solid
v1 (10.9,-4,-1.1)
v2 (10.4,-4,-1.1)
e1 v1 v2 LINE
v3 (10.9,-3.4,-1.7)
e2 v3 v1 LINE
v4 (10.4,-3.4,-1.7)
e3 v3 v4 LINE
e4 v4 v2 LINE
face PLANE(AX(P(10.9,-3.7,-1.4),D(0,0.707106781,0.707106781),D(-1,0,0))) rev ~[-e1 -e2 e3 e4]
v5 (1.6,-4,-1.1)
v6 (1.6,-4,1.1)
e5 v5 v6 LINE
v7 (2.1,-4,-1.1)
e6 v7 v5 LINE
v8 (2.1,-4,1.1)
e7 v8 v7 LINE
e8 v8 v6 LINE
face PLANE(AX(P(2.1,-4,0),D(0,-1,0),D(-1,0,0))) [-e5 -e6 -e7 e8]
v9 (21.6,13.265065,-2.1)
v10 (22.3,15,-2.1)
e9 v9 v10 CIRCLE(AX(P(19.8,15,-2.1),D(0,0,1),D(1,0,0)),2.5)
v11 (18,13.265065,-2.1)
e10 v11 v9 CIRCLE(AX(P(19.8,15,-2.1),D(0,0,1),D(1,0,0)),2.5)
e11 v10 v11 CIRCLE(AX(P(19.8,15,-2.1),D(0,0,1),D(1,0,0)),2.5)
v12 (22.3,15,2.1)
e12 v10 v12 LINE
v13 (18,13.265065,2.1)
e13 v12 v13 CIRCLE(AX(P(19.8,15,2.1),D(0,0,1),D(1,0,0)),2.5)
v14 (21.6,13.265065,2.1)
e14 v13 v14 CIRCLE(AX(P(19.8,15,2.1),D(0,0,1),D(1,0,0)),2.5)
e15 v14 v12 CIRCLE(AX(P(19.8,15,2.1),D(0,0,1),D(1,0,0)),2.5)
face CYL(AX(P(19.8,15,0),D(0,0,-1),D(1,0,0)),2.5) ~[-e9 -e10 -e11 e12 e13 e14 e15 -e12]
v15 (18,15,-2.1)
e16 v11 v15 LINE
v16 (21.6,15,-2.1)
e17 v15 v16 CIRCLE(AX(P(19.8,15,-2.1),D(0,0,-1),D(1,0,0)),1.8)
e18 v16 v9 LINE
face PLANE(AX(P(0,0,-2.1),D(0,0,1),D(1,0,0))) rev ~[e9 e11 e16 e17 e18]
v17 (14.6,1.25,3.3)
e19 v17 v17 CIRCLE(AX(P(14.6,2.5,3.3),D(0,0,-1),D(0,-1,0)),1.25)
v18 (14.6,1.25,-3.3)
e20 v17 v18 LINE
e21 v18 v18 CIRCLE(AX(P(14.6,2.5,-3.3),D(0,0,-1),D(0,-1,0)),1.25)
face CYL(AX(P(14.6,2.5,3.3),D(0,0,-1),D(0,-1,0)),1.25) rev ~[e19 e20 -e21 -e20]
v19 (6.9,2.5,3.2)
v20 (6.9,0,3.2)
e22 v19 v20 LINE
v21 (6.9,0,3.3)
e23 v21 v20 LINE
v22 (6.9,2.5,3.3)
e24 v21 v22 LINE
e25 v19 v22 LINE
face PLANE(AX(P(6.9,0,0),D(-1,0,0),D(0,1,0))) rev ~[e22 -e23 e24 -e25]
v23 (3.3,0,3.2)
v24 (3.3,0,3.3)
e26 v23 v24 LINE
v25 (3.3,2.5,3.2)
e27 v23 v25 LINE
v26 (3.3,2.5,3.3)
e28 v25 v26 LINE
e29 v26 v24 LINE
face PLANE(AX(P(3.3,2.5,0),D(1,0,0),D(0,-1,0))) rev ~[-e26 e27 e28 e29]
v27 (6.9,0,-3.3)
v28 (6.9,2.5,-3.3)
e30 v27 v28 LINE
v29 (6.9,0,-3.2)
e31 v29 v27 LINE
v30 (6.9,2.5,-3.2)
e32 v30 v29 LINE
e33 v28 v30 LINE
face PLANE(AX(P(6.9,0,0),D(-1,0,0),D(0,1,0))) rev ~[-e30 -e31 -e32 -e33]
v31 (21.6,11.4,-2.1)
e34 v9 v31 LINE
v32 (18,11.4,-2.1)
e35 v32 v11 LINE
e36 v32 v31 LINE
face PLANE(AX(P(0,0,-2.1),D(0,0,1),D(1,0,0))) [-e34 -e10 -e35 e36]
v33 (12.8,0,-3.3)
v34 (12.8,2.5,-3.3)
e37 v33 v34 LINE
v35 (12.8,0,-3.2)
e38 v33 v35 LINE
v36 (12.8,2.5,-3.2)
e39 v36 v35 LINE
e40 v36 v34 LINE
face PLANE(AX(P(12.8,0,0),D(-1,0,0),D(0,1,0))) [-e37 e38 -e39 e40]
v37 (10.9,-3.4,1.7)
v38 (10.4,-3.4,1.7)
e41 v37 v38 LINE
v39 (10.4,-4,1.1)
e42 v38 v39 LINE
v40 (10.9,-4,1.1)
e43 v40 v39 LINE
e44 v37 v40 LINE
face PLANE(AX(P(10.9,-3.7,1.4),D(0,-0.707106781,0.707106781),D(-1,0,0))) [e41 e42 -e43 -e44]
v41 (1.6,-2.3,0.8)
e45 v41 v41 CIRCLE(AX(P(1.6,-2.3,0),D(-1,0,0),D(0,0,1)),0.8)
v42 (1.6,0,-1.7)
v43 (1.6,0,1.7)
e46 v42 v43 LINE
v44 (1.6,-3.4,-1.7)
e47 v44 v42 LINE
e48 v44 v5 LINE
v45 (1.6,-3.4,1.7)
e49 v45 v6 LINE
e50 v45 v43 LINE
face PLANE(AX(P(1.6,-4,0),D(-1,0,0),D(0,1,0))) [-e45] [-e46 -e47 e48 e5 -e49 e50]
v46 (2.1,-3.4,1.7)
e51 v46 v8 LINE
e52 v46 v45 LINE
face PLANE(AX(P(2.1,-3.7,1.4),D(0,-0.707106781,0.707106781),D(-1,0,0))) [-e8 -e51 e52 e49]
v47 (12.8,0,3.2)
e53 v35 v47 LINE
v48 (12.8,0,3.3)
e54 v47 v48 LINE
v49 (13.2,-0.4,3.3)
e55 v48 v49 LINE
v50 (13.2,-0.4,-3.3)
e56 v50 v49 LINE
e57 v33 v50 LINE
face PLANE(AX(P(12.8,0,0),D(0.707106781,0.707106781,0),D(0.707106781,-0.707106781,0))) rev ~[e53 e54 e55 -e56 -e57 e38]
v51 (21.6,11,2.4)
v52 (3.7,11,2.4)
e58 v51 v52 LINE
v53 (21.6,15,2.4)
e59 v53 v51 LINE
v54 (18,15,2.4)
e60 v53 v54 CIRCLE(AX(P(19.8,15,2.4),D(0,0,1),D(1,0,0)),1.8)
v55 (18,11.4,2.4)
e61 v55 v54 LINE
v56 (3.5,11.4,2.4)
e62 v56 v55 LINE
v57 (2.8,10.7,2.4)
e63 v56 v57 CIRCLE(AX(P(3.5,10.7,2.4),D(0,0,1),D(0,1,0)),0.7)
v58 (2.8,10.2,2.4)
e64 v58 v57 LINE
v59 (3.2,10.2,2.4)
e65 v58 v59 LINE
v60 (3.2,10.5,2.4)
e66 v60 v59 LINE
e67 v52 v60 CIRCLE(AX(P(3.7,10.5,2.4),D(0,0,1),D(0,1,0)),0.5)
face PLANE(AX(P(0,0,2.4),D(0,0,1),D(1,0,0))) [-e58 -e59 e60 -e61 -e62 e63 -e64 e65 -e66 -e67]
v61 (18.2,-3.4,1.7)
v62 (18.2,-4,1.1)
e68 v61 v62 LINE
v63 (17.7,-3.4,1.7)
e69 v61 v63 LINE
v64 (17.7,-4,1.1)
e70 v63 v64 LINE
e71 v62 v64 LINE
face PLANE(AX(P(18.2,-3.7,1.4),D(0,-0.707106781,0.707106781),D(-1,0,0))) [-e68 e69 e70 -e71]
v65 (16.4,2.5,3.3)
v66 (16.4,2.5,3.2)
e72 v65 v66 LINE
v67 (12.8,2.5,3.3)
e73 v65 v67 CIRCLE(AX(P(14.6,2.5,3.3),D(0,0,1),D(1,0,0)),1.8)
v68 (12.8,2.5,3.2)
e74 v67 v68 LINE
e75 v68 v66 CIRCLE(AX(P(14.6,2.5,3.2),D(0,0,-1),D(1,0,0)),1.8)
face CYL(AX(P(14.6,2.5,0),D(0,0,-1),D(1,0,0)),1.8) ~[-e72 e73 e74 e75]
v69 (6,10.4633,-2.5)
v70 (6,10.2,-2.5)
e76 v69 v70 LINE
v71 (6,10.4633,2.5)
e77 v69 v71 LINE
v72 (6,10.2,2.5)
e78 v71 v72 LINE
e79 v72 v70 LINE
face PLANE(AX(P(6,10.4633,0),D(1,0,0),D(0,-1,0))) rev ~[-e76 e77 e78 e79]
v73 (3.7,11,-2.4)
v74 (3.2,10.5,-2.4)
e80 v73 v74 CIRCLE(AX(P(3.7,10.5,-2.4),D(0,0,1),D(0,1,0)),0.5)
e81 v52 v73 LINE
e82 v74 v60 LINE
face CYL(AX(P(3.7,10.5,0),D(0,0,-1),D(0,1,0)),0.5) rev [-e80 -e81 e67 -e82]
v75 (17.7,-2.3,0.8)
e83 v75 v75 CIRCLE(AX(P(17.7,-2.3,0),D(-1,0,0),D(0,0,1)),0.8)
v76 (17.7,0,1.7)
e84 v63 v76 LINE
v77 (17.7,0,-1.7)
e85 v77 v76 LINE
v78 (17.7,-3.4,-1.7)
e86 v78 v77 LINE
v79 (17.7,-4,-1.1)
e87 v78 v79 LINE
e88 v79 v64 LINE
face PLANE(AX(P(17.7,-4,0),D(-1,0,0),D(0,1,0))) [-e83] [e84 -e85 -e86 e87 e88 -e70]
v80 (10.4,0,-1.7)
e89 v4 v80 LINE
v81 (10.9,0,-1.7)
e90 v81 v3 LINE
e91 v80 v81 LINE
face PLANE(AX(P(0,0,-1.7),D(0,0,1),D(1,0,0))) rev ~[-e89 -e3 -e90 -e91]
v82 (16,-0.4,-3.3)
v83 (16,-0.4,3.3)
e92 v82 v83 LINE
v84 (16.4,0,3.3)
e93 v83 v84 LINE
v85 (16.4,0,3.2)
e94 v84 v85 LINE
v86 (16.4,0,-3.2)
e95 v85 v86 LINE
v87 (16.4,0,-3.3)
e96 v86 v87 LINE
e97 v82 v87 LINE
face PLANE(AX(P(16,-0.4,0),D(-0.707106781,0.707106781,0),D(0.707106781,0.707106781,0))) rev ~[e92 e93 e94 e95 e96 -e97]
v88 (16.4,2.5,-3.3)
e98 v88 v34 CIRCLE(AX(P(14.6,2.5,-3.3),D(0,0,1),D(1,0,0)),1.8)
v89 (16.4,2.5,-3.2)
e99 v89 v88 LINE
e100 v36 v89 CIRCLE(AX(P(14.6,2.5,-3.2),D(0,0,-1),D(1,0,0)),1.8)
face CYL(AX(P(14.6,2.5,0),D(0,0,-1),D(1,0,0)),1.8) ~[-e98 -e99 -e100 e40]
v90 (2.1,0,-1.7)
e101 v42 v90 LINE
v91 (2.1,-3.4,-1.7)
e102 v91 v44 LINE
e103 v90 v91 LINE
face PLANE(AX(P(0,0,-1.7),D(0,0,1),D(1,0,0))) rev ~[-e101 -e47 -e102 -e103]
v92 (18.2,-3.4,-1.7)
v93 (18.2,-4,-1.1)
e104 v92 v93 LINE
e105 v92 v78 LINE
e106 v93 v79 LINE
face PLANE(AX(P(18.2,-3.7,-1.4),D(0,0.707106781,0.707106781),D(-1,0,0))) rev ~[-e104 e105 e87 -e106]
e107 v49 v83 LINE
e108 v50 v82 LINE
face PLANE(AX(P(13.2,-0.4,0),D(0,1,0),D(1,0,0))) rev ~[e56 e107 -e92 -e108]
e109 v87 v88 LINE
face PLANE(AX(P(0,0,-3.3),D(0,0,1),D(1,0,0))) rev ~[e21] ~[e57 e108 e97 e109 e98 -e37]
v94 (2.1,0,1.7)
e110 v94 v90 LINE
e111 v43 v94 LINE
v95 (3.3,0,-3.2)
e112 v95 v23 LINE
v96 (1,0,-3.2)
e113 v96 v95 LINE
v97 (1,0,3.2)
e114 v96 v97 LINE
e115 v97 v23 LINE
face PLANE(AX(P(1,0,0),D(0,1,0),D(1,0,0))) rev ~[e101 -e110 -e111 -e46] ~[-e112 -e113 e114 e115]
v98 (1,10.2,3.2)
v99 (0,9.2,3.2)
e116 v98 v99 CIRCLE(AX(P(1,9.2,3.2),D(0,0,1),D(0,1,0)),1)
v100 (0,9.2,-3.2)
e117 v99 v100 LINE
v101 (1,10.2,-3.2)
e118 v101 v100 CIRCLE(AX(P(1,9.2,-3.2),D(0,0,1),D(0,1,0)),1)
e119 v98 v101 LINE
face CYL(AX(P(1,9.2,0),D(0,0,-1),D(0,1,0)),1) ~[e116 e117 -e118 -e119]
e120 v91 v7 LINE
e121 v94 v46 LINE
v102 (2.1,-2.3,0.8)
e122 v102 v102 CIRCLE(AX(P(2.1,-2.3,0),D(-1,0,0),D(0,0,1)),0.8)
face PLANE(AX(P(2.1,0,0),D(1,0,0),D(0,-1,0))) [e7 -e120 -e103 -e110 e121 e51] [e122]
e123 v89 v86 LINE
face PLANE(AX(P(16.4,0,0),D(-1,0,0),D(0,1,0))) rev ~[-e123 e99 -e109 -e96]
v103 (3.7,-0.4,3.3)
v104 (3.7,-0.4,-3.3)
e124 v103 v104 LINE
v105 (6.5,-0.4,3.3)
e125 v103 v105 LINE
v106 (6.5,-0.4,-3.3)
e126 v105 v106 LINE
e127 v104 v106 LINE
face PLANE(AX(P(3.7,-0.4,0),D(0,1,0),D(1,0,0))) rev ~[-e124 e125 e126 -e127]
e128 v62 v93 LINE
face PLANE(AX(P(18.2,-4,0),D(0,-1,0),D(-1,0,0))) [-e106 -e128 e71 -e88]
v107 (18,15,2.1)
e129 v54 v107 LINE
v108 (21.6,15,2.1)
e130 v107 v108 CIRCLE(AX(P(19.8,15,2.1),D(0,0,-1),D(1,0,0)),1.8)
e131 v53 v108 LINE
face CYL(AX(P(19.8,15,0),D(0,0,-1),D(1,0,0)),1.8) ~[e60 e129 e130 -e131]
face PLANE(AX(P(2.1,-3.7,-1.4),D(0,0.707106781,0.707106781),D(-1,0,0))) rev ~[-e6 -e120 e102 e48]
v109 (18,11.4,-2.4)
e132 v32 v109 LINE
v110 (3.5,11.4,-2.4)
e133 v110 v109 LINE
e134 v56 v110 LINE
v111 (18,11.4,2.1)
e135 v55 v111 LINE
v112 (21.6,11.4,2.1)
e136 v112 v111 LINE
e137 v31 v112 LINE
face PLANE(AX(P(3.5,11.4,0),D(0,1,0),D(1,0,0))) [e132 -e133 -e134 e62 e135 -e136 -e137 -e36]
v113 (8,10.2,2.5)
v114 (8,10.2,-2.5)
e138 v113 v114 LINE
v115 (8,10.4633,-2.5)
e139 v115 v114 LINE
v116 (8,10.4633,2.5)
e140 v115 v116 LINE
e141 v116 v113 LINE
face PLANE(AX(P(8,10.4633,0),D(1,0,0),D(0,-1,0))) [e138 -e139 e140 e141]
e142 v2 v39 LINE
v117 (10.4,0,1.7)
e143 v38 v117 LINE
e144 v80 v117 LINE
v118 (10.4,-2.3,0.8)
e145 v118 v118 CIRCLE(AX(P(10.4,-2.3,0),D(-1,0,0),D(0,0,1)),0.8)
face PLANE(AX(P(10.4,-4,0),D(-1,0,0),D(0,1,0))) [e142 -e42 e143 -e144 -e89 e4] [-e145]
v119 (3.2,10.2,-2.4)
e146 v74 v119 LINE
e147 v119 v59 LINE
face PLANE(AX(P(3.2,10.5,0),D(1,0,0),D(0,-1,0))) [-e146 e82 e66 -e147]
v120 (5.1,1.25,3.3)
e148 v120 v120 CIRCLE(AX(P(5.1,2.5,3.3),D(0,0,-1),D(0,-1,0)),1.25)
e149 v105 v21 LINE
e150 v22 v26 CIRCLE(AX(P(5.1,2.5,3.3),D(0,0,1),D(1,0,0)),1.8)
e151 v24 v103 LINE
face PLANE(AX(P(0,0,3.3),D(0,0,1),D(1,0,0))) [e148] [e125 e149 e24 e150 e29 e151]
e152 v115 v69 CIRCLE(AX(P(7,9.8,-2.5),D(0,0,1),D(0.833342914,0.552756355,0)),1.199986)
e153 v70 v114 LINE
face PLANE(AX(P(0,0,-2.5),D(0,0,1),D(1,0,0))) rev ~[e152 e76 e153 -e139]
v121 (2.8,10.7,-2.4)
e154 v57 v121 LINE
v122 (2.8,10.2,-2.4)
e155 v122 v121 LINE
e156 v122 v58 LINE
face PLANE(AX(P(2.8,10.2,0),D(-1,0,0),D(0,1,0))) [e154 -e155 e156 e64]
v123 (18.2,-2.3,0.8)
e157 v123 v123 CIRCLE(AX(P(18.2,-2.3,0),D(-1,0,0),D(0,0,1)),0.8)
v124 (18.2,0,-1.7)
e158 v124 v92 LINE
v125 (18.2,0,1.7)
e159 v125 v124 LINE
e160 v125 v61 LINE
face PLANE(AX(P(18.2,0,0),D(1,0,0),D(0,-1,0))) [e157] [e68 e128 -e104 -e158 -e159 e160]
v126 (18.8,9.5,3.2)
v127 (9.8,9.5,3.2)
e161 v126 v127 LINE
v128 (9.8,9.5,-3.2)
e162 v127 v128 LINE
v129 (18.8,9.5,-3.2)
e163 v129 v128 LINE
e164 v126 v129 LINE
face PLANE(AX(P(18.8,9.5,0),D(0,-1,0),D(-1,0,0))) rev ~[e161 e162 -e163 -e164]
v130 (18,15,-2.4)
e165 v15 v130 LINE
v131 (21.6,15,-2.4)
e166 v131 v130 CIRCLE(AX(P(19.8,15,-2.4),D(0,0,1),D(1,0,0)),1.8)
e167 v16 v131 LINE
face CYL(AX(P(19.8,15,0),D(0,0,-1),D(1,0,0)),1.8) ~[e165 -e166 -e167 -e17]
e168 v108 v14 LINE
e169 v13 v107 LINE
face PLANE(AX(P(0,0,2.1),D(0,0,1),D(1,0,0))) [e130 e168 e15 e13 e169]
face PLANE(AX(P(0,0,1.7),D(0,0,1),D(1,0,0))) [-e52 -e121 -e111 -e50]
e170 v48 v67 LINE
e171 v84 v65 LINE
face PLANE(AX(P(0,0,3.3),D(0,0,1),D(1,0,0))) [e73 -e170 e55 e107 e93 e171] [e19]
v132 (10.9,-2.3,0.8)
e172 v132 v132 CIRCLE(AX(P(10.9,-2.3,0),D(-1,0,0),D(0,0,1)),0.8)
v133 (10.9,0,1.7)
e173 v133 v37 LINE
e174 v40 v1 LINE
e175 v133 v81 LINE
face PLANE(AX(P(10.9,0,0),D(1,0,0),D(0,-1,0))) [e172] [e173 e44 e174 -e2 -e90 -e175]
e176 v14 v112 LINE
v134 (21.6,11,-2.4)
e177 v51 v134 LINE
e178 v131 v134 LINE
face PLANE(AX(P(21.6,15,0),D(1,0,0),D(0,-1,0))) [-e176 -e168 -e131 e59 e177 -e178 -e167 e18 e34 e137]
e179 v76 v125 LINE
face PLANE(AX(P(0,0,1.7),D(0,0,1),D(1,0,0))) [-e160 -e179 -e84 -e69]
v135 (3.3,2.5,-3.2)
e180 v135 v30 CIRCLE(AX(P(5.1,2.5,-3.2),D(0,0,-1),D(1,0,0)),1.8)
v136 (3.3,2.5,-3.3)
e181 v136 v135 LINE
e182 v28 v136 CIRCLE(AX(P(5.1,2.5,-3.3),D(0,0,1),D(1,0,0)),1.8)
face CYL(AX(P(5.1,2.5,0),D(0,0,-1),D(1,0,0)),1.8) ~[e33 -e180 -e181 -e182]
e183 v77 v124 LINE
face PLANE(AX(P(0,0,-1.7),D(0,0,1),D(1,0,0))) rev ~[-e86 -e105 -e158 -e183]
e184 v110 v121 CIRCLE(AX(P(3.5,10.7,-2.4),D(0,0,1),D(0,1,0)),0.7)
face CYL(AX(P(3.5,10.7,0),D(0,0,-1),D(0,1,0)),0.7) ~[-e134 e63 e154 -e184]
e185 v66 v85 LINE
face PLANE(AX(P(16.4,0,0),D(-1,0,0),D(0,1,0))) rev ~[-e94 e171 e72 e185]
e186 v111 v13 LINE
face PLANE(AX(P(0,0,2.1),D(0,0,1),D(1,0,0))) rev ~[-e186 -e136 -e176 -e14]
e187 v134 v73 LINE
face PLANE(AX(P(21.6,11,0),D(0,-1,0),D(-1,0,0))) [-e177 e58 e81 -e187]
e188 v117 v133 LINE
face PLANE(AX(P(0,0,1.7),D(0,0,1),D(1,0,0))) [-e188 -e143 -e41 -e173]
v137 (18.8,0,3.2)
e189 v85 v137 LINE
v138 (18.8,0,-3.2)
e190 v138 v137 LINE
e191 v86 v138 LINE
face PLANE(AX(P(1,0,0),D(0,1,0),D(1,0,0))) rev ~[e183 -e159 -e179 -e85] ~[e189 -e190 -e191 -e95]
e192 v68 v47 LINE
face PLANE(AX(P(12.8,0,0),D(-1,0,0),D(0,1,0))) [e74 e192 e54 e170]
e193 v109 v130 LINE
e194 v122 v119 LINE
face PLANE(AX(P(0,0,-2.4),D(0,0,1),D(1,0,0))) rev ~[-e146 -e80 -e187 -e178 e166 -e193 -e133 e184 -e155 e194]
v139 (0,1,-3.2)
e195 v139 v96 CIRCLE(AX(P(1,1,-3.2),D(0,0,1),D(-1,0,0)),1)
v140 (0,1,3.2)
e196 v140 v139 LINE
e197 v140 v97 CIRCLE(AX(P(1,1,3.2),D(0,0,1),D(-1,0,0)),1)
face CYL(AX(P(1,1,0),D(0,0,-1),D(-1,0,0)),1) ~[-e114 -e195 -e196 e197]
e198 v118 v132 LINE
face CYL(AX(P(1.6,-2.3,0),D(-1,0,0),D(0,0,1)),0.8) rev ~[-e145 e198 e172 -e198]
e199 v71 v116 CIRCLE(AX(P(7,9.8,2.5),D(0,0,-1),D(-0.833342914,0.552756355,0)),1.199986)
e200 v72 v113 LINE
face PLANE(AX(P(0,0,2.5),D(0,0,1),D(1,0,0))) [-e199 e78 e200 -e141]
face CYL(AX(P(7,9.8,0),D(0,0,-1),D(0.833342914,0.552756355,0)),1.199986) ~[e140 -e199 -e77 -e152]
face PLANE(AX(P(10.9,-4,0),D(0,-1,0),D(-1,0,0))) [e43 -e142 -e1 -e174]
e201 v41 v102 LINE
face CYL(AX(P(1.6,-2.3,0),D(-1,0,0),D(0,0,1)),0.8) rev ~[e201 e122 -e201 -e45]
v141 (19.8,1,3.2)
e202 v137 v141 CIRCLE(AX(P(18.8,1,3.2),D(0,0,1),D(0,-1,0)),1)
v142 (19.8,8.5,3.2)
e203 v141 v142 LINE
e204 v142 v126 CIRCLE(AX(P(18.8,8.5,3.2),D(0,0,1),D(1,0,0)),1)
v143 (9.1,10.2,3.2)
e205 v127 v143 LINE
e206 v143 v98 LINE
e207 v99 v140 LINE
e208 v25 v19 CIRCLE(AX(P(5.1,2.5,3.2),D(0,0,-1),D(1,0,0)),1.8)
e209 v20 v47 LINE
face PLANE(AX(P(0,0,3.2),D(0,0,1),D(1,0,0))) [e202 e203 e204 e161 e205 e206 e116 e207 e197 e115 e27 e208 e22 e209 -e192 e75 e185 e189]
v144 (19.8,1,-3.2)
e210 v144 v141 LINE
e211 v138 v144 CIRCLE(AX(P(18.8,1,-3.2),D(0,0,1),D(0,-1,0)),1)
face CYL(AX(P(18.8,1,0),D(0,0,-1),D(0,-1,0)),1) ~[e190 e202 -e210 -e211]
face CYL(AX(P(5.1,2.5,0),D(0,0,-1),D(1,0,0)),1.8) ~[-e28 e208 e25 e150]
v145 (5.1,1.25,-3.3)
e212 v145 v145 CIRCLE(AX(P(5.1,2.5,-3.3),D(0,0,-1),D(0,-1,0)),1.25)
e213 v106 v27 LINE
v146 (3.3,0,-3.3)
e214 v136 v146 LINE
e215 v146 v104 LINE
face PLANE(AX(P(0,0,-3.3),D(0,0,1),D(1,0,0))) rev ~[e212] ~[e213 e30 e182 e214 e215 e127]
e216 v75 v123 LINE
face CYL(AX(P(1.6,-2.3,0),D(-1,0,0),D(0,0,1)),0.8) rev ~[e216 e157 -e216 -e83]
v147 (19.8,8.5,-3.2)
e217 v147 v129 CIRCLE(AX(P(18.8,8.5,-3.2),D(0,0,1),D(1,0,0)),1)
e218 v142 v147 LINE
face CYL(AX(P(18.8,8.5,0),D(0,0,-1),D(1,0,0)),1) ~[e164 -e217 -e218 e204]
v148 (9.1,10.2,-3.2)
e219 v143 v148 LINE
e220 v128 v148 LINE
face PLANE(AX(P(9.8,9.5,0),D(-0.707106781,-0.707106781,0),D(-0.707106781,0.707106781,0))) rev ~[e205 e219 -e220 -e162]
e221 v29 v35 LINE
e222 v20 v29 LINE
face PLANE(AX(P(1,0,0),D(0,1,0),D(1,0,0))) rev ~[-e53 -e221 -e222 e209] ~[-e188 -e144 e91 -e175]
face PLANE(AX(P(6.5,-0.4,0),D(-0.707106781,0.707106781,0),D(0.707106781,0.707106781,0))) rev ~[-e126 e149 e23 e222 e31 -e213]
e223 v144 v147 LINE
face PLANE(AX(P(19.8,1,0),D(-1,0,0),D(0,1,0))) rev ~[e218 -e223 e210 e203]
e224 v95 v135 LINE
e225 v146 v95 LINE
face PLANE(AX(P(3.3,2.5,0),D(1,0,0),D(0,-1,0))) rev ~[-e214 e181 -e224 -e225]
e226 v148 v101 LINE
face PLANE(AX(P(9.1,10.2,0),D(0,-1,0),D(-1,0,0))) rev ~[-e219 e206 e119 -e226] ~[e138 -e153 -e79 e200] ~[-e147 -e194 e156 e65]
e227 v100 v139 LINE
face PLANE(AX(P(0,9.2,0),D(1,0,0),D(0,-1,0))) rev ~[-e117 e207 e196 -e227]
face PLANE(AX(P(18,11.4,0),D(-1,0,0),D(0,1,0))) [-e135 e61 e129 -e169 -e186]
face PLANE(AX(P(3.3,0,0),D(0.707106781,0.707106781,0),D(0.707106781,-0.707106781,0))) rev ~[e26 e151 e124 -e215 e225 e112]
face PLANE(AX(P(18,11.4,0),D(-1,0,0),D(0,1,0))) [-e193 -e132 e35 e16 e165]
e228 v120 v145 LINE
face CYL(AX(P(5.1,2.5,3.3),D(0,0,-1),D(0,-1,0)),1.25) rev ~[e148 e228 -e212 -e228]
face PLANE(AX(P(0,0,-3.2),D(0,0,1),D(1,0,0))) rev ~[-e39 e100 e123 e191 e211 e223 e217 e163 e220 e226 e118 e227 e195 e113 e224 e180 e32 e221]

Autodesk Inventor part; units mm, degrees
ref_plane "YZ Plane" through (0, 0, 0) normal (1, 0, 0) x (0, 1, 0)
ref_plane "XZ Plane" through (0, 0, 0) normal (0, 1, 0) x (-1, 0, 0)
ref_plane "XY Plane" through (0, 0, 0) normal (0, 0, 1) x (1, 0, 0)
sketch "Эскиз2" plane through (0, 0, 0) normal (0, 0, 1) x (1, 0, 0)
  line L0 (1, 0) -> (18.8, 0)
  line L1 (19.8, 1) -> (19.8, 8.5)
  line L2 (18.8, 9.5) -> (9.8, 9.5)
  line L3 (9.8, 9.5) -> (9.1, 10.2)
  line L4 (9.1, 10.2) -> (1, 10.2)
  line L5 (0, 9.2) -> (0, 1)
  arc A0 (1, 10.2) -> (0, 9.2) centre (1, 9.2) ccw
  arc A1 (0, 1) -> (1, 0) centre (1, 1) ccw
  arc A2 (18.8, 0) -> (19.8, 1) centre (18.8, 1) ccw
  arc A3 (19.8, 8.5) -> (18.8, 9.5) centre (18.8, 8.5) ccw
  point P0 (0, 0)
  point P1 (19.8, 0)
  point P2 (19.8, 9.5)
  dimension "d42" = 19.8
  dimension "d43" = 9.5
  dimension "d44" = 10
  dimension "d45" = 135
  dimension "d46" = 10.2
  dimension "d47" = 1
extrude "Выдавливание1" add sketch "Эскиз2" along normal mid plane 6.4
sketch "Эскиз3" plane through (0, 0, 0) normal (0, 0, 1) x (1, 0, 0)
  line L0 (1, 0) -> (18.8, 0) projected
  line L1 (1.6, 0) -> (2.1, 0)
  line L2 (2.1, 0) -> (2.1, -4)
  line L3 (2.1, -4) -> (1.6, -4)
  line L4 (1.6, -4) -> (1.6, 0)
  line L5 (10.4, 0) -> (10.9, 0)
  line L6 (10.9, 0) -> (10.9, -4)
  line L7 (10.9, -4) -> (10.4, -4)
  line L8 (10.4, -4) -> (10.4, 0)
  line L9 (17.7, 0) -> (18.2, 0)
  line L10 (18.2, 0) -> (18.2, -4)
  line L11 (18.2, -4) -> (17.7, -4)
  line L12 (17.7, -4) -> (17.7, 0)
  line L13 (0, 9.2) -> (0, 1) projected
  point P0 (0, 0)
  point P1 (1.85, -4)
  point P2 (17.95, -4)
  point P3 (10.65, -4)
  dimension "d51" = 0.5
  dimension "d52" = 8.8
  dimension "d53" = 7.3
  dimension "d54" = 4
  dimension "d55" = 1.85
extrude "Выдавливание2" add sketch "Эскиз3" along normal mid plane 3.4
sketch "Эскиз4" plane through (0, 0, 0) normal (0, 0, 1) x (1, 0, 0)
  arc A0 (6.9, 2.5) -> (3.3, 2.5) centre (5.1, 2.5) ccw
  line L0 (3.3, 2.5) -> (3.3, 0)
  line L1 (18.8, 0) -> (1, 0) projected
  line L2 (3.3, 0) -> (3.7, -0.4)
  line L3 (3.7, -0.4) -> (6.5, -0.4)
  line L4 (6.5, -0.4) -> (6.9, 0)
  line L5 (6.9, 0) -> (6.9, 2.5)
  line L6 (12.8, 0) -> (13.2, -0.4)
  line L7 (13.2, -0.4) -> (16, -0.4)
  line L8 (16, -0.4) -> (16.4, 0)
  line L9 (16.4, 0) -> (16.4, 2.5)
  line L10 (12.8, 0) -> (12.8, 2.5)
  arc A1 (16.4, 2.5) -> (12.8, 2.5) centre (14.6, 2.5) ccw
  line L11 (0, 1) -> (0, 9.2) projected
  point P0 (0, 0)
  dimension "d58" = 0.4
  dimension "d59" = 2.5
  dimension "d60" = 1.8
  dimension "d61" = 135
  dimension "d62" = 9.5
  dimension "d63" = 5.1
extrude "Выдавливание3" add sketch "Эскиз4" along normal mid plane 6.6
sketch "Эскиз6" plane through (0, 0, 3.3) normal (0, 0, 1) x (1, 0, 0)
  arc A0 (6.9, 2.5) -> (3.3, 2.5) centre (5.1, 2.5) ccw projected
  arc A1 (16.4, 2.5) -> (12.8, 2.5) centre (14.6, 2.5) ccw projected
  point P0 (0, 0)
hole "Отверстие1" at (5.1, 2.5, 3.3) at (14.6, 2.5, 3.3) direction (0, 0, -1) diameter 2.5 end through all
sketch "Эскиз7" plane through (0, 0, 0) normal (0, 0, 1) x (1, 0, 0)
  line L0 (1, 10.2) -> (9.1, 10.2) projected
  line L1 (2.8, 10.2) -> (2.8, 10.7)
  line L2 (3.5, 11.4) -> (18, 11.4)
  line L3 (18, 11.4) -> (18, 15)
  line L4 (21.6, 15) -> (21.6, 11)
  line L5 (21.6, 11) -> (3.7, 11)
  line L6 (3.2, 10.5) -> (3.2, 10.2)
  arc A0 (21.6, 15) -> (18, 15) centre (19.8, 15) ccw
  line L7 (0, 9.2) -> (0, 1) projected
  arc A1 (3.7, 11) -> (3.2, 10.5) centre (3.7, 10.5) ccw
  arc A2 (3.5, 11.4) -> (2.8, 10.7) centre (3.5, 10.7) ccw
  point P0 (0, 0)
  point P1 (2.8, 11.4)
  point P2 (3.2, 11)
  dimension "d73" = 0.4
  dimension "d74" = 2.8
  dimension "d75" = 17
  dimension "d76" = 1.8
  dimension "d77" = 0.4
  dimension "d78" = 0.8
  dimension "d79" = 4
  dimension "d82" = 0.5
  dimension "d83" = 0.7
extrude "Выдавливание4" add sketch "Эскиз7" along normal mid plane 4.8
sketch "Эскиз8" plane through (0, 0, 0) normal (0, 0, 1) x (1, 0, 0)
  line L0 (3.5, 11.4) -> (18, 11.4) projected
  line L1 (9.8542, 11.4) -> (26.7526, 11.4)
  line L2 (26.7526, 11.4) -> (26.7526, 19.641)
  line L3 (26.7526, 19.641) -> (9.8542, 19.641)
  line L4 (9.8542, 19.641) -> (9.8542, 11.4)
  point P0 (0, 0)
  point P1 (19.8, 15)
extrude "Выдавливание5" cut sketch "Эскиз8" along normal mid plane 4.2
sketch "Эскиз9" plane through (0, 0, 0) normal (0, 0, 1) x (1, 0, 0)
  arc A0 (21.6, 15) -> (18, 15) centre (19.8, 15) ccw projected
  circle A1 centre (19.8, 15) radius 2.5
  point P0 (0, 0)
  dimension "d87" = 5
extrude "Выдавливание6" add sketch "Эскиз9" along normal mid plane 4.2
sketch "Эскиз10" plane through (1.6, -4, 1.7) normal (-1, 0, 0) x (0, 0, 1)
  circle A0 centre (-1.7, 1.7) radius 0.8
  line L0 (-3.4, 0) -> (0, 0) projected
  point P0 (-1.7, 4)
  dimension "d90" = 1.6
  dimension "d91" = 1.7
extrude "Выдавливание7" cut sketch "Эскиз10" against normal through all
chamfer "Фаска1" distance 0.6 angle 45 6 edges at (1.85, -4, -1.7) (10.65, -4, -1.7) (17.95, -4, -1.7) (10.65, -4, 1.7) (1.85, -4, 1.7) (17.95, -4, 1.7)
sketch "Эскиз11" plane through (0, 0, 0) normal (0, 0, 1) x (1, 0, 0)
  arc A0 (8, 10.4633) -> (6, 10.4633) centre (7, 9.8) ccw
  line L0 (6, 10.4633) -> (6, 10.2)
  line L1 (6, 10.2) -> (8, 10.2)
  line L2 (9.1, 10.2) -> (1, 10.2) projected
  line L3 (8, 10.4633) -> (8, 10.2)
  line L4 (3.7, 11) -> (21.6, 11) projected
  line L5 (0, 9.2) -> (0, 1) projected
  point P0 (0, 0)
  dimension "d97" = 1.2
  dimension "d98" = 2
  dimension "d99" = 6
extrude "Выдавливание8" add sketch "Эскиз11" along normal mid plane 5
properties part number "MSW-13" material "Пластик АБС"
